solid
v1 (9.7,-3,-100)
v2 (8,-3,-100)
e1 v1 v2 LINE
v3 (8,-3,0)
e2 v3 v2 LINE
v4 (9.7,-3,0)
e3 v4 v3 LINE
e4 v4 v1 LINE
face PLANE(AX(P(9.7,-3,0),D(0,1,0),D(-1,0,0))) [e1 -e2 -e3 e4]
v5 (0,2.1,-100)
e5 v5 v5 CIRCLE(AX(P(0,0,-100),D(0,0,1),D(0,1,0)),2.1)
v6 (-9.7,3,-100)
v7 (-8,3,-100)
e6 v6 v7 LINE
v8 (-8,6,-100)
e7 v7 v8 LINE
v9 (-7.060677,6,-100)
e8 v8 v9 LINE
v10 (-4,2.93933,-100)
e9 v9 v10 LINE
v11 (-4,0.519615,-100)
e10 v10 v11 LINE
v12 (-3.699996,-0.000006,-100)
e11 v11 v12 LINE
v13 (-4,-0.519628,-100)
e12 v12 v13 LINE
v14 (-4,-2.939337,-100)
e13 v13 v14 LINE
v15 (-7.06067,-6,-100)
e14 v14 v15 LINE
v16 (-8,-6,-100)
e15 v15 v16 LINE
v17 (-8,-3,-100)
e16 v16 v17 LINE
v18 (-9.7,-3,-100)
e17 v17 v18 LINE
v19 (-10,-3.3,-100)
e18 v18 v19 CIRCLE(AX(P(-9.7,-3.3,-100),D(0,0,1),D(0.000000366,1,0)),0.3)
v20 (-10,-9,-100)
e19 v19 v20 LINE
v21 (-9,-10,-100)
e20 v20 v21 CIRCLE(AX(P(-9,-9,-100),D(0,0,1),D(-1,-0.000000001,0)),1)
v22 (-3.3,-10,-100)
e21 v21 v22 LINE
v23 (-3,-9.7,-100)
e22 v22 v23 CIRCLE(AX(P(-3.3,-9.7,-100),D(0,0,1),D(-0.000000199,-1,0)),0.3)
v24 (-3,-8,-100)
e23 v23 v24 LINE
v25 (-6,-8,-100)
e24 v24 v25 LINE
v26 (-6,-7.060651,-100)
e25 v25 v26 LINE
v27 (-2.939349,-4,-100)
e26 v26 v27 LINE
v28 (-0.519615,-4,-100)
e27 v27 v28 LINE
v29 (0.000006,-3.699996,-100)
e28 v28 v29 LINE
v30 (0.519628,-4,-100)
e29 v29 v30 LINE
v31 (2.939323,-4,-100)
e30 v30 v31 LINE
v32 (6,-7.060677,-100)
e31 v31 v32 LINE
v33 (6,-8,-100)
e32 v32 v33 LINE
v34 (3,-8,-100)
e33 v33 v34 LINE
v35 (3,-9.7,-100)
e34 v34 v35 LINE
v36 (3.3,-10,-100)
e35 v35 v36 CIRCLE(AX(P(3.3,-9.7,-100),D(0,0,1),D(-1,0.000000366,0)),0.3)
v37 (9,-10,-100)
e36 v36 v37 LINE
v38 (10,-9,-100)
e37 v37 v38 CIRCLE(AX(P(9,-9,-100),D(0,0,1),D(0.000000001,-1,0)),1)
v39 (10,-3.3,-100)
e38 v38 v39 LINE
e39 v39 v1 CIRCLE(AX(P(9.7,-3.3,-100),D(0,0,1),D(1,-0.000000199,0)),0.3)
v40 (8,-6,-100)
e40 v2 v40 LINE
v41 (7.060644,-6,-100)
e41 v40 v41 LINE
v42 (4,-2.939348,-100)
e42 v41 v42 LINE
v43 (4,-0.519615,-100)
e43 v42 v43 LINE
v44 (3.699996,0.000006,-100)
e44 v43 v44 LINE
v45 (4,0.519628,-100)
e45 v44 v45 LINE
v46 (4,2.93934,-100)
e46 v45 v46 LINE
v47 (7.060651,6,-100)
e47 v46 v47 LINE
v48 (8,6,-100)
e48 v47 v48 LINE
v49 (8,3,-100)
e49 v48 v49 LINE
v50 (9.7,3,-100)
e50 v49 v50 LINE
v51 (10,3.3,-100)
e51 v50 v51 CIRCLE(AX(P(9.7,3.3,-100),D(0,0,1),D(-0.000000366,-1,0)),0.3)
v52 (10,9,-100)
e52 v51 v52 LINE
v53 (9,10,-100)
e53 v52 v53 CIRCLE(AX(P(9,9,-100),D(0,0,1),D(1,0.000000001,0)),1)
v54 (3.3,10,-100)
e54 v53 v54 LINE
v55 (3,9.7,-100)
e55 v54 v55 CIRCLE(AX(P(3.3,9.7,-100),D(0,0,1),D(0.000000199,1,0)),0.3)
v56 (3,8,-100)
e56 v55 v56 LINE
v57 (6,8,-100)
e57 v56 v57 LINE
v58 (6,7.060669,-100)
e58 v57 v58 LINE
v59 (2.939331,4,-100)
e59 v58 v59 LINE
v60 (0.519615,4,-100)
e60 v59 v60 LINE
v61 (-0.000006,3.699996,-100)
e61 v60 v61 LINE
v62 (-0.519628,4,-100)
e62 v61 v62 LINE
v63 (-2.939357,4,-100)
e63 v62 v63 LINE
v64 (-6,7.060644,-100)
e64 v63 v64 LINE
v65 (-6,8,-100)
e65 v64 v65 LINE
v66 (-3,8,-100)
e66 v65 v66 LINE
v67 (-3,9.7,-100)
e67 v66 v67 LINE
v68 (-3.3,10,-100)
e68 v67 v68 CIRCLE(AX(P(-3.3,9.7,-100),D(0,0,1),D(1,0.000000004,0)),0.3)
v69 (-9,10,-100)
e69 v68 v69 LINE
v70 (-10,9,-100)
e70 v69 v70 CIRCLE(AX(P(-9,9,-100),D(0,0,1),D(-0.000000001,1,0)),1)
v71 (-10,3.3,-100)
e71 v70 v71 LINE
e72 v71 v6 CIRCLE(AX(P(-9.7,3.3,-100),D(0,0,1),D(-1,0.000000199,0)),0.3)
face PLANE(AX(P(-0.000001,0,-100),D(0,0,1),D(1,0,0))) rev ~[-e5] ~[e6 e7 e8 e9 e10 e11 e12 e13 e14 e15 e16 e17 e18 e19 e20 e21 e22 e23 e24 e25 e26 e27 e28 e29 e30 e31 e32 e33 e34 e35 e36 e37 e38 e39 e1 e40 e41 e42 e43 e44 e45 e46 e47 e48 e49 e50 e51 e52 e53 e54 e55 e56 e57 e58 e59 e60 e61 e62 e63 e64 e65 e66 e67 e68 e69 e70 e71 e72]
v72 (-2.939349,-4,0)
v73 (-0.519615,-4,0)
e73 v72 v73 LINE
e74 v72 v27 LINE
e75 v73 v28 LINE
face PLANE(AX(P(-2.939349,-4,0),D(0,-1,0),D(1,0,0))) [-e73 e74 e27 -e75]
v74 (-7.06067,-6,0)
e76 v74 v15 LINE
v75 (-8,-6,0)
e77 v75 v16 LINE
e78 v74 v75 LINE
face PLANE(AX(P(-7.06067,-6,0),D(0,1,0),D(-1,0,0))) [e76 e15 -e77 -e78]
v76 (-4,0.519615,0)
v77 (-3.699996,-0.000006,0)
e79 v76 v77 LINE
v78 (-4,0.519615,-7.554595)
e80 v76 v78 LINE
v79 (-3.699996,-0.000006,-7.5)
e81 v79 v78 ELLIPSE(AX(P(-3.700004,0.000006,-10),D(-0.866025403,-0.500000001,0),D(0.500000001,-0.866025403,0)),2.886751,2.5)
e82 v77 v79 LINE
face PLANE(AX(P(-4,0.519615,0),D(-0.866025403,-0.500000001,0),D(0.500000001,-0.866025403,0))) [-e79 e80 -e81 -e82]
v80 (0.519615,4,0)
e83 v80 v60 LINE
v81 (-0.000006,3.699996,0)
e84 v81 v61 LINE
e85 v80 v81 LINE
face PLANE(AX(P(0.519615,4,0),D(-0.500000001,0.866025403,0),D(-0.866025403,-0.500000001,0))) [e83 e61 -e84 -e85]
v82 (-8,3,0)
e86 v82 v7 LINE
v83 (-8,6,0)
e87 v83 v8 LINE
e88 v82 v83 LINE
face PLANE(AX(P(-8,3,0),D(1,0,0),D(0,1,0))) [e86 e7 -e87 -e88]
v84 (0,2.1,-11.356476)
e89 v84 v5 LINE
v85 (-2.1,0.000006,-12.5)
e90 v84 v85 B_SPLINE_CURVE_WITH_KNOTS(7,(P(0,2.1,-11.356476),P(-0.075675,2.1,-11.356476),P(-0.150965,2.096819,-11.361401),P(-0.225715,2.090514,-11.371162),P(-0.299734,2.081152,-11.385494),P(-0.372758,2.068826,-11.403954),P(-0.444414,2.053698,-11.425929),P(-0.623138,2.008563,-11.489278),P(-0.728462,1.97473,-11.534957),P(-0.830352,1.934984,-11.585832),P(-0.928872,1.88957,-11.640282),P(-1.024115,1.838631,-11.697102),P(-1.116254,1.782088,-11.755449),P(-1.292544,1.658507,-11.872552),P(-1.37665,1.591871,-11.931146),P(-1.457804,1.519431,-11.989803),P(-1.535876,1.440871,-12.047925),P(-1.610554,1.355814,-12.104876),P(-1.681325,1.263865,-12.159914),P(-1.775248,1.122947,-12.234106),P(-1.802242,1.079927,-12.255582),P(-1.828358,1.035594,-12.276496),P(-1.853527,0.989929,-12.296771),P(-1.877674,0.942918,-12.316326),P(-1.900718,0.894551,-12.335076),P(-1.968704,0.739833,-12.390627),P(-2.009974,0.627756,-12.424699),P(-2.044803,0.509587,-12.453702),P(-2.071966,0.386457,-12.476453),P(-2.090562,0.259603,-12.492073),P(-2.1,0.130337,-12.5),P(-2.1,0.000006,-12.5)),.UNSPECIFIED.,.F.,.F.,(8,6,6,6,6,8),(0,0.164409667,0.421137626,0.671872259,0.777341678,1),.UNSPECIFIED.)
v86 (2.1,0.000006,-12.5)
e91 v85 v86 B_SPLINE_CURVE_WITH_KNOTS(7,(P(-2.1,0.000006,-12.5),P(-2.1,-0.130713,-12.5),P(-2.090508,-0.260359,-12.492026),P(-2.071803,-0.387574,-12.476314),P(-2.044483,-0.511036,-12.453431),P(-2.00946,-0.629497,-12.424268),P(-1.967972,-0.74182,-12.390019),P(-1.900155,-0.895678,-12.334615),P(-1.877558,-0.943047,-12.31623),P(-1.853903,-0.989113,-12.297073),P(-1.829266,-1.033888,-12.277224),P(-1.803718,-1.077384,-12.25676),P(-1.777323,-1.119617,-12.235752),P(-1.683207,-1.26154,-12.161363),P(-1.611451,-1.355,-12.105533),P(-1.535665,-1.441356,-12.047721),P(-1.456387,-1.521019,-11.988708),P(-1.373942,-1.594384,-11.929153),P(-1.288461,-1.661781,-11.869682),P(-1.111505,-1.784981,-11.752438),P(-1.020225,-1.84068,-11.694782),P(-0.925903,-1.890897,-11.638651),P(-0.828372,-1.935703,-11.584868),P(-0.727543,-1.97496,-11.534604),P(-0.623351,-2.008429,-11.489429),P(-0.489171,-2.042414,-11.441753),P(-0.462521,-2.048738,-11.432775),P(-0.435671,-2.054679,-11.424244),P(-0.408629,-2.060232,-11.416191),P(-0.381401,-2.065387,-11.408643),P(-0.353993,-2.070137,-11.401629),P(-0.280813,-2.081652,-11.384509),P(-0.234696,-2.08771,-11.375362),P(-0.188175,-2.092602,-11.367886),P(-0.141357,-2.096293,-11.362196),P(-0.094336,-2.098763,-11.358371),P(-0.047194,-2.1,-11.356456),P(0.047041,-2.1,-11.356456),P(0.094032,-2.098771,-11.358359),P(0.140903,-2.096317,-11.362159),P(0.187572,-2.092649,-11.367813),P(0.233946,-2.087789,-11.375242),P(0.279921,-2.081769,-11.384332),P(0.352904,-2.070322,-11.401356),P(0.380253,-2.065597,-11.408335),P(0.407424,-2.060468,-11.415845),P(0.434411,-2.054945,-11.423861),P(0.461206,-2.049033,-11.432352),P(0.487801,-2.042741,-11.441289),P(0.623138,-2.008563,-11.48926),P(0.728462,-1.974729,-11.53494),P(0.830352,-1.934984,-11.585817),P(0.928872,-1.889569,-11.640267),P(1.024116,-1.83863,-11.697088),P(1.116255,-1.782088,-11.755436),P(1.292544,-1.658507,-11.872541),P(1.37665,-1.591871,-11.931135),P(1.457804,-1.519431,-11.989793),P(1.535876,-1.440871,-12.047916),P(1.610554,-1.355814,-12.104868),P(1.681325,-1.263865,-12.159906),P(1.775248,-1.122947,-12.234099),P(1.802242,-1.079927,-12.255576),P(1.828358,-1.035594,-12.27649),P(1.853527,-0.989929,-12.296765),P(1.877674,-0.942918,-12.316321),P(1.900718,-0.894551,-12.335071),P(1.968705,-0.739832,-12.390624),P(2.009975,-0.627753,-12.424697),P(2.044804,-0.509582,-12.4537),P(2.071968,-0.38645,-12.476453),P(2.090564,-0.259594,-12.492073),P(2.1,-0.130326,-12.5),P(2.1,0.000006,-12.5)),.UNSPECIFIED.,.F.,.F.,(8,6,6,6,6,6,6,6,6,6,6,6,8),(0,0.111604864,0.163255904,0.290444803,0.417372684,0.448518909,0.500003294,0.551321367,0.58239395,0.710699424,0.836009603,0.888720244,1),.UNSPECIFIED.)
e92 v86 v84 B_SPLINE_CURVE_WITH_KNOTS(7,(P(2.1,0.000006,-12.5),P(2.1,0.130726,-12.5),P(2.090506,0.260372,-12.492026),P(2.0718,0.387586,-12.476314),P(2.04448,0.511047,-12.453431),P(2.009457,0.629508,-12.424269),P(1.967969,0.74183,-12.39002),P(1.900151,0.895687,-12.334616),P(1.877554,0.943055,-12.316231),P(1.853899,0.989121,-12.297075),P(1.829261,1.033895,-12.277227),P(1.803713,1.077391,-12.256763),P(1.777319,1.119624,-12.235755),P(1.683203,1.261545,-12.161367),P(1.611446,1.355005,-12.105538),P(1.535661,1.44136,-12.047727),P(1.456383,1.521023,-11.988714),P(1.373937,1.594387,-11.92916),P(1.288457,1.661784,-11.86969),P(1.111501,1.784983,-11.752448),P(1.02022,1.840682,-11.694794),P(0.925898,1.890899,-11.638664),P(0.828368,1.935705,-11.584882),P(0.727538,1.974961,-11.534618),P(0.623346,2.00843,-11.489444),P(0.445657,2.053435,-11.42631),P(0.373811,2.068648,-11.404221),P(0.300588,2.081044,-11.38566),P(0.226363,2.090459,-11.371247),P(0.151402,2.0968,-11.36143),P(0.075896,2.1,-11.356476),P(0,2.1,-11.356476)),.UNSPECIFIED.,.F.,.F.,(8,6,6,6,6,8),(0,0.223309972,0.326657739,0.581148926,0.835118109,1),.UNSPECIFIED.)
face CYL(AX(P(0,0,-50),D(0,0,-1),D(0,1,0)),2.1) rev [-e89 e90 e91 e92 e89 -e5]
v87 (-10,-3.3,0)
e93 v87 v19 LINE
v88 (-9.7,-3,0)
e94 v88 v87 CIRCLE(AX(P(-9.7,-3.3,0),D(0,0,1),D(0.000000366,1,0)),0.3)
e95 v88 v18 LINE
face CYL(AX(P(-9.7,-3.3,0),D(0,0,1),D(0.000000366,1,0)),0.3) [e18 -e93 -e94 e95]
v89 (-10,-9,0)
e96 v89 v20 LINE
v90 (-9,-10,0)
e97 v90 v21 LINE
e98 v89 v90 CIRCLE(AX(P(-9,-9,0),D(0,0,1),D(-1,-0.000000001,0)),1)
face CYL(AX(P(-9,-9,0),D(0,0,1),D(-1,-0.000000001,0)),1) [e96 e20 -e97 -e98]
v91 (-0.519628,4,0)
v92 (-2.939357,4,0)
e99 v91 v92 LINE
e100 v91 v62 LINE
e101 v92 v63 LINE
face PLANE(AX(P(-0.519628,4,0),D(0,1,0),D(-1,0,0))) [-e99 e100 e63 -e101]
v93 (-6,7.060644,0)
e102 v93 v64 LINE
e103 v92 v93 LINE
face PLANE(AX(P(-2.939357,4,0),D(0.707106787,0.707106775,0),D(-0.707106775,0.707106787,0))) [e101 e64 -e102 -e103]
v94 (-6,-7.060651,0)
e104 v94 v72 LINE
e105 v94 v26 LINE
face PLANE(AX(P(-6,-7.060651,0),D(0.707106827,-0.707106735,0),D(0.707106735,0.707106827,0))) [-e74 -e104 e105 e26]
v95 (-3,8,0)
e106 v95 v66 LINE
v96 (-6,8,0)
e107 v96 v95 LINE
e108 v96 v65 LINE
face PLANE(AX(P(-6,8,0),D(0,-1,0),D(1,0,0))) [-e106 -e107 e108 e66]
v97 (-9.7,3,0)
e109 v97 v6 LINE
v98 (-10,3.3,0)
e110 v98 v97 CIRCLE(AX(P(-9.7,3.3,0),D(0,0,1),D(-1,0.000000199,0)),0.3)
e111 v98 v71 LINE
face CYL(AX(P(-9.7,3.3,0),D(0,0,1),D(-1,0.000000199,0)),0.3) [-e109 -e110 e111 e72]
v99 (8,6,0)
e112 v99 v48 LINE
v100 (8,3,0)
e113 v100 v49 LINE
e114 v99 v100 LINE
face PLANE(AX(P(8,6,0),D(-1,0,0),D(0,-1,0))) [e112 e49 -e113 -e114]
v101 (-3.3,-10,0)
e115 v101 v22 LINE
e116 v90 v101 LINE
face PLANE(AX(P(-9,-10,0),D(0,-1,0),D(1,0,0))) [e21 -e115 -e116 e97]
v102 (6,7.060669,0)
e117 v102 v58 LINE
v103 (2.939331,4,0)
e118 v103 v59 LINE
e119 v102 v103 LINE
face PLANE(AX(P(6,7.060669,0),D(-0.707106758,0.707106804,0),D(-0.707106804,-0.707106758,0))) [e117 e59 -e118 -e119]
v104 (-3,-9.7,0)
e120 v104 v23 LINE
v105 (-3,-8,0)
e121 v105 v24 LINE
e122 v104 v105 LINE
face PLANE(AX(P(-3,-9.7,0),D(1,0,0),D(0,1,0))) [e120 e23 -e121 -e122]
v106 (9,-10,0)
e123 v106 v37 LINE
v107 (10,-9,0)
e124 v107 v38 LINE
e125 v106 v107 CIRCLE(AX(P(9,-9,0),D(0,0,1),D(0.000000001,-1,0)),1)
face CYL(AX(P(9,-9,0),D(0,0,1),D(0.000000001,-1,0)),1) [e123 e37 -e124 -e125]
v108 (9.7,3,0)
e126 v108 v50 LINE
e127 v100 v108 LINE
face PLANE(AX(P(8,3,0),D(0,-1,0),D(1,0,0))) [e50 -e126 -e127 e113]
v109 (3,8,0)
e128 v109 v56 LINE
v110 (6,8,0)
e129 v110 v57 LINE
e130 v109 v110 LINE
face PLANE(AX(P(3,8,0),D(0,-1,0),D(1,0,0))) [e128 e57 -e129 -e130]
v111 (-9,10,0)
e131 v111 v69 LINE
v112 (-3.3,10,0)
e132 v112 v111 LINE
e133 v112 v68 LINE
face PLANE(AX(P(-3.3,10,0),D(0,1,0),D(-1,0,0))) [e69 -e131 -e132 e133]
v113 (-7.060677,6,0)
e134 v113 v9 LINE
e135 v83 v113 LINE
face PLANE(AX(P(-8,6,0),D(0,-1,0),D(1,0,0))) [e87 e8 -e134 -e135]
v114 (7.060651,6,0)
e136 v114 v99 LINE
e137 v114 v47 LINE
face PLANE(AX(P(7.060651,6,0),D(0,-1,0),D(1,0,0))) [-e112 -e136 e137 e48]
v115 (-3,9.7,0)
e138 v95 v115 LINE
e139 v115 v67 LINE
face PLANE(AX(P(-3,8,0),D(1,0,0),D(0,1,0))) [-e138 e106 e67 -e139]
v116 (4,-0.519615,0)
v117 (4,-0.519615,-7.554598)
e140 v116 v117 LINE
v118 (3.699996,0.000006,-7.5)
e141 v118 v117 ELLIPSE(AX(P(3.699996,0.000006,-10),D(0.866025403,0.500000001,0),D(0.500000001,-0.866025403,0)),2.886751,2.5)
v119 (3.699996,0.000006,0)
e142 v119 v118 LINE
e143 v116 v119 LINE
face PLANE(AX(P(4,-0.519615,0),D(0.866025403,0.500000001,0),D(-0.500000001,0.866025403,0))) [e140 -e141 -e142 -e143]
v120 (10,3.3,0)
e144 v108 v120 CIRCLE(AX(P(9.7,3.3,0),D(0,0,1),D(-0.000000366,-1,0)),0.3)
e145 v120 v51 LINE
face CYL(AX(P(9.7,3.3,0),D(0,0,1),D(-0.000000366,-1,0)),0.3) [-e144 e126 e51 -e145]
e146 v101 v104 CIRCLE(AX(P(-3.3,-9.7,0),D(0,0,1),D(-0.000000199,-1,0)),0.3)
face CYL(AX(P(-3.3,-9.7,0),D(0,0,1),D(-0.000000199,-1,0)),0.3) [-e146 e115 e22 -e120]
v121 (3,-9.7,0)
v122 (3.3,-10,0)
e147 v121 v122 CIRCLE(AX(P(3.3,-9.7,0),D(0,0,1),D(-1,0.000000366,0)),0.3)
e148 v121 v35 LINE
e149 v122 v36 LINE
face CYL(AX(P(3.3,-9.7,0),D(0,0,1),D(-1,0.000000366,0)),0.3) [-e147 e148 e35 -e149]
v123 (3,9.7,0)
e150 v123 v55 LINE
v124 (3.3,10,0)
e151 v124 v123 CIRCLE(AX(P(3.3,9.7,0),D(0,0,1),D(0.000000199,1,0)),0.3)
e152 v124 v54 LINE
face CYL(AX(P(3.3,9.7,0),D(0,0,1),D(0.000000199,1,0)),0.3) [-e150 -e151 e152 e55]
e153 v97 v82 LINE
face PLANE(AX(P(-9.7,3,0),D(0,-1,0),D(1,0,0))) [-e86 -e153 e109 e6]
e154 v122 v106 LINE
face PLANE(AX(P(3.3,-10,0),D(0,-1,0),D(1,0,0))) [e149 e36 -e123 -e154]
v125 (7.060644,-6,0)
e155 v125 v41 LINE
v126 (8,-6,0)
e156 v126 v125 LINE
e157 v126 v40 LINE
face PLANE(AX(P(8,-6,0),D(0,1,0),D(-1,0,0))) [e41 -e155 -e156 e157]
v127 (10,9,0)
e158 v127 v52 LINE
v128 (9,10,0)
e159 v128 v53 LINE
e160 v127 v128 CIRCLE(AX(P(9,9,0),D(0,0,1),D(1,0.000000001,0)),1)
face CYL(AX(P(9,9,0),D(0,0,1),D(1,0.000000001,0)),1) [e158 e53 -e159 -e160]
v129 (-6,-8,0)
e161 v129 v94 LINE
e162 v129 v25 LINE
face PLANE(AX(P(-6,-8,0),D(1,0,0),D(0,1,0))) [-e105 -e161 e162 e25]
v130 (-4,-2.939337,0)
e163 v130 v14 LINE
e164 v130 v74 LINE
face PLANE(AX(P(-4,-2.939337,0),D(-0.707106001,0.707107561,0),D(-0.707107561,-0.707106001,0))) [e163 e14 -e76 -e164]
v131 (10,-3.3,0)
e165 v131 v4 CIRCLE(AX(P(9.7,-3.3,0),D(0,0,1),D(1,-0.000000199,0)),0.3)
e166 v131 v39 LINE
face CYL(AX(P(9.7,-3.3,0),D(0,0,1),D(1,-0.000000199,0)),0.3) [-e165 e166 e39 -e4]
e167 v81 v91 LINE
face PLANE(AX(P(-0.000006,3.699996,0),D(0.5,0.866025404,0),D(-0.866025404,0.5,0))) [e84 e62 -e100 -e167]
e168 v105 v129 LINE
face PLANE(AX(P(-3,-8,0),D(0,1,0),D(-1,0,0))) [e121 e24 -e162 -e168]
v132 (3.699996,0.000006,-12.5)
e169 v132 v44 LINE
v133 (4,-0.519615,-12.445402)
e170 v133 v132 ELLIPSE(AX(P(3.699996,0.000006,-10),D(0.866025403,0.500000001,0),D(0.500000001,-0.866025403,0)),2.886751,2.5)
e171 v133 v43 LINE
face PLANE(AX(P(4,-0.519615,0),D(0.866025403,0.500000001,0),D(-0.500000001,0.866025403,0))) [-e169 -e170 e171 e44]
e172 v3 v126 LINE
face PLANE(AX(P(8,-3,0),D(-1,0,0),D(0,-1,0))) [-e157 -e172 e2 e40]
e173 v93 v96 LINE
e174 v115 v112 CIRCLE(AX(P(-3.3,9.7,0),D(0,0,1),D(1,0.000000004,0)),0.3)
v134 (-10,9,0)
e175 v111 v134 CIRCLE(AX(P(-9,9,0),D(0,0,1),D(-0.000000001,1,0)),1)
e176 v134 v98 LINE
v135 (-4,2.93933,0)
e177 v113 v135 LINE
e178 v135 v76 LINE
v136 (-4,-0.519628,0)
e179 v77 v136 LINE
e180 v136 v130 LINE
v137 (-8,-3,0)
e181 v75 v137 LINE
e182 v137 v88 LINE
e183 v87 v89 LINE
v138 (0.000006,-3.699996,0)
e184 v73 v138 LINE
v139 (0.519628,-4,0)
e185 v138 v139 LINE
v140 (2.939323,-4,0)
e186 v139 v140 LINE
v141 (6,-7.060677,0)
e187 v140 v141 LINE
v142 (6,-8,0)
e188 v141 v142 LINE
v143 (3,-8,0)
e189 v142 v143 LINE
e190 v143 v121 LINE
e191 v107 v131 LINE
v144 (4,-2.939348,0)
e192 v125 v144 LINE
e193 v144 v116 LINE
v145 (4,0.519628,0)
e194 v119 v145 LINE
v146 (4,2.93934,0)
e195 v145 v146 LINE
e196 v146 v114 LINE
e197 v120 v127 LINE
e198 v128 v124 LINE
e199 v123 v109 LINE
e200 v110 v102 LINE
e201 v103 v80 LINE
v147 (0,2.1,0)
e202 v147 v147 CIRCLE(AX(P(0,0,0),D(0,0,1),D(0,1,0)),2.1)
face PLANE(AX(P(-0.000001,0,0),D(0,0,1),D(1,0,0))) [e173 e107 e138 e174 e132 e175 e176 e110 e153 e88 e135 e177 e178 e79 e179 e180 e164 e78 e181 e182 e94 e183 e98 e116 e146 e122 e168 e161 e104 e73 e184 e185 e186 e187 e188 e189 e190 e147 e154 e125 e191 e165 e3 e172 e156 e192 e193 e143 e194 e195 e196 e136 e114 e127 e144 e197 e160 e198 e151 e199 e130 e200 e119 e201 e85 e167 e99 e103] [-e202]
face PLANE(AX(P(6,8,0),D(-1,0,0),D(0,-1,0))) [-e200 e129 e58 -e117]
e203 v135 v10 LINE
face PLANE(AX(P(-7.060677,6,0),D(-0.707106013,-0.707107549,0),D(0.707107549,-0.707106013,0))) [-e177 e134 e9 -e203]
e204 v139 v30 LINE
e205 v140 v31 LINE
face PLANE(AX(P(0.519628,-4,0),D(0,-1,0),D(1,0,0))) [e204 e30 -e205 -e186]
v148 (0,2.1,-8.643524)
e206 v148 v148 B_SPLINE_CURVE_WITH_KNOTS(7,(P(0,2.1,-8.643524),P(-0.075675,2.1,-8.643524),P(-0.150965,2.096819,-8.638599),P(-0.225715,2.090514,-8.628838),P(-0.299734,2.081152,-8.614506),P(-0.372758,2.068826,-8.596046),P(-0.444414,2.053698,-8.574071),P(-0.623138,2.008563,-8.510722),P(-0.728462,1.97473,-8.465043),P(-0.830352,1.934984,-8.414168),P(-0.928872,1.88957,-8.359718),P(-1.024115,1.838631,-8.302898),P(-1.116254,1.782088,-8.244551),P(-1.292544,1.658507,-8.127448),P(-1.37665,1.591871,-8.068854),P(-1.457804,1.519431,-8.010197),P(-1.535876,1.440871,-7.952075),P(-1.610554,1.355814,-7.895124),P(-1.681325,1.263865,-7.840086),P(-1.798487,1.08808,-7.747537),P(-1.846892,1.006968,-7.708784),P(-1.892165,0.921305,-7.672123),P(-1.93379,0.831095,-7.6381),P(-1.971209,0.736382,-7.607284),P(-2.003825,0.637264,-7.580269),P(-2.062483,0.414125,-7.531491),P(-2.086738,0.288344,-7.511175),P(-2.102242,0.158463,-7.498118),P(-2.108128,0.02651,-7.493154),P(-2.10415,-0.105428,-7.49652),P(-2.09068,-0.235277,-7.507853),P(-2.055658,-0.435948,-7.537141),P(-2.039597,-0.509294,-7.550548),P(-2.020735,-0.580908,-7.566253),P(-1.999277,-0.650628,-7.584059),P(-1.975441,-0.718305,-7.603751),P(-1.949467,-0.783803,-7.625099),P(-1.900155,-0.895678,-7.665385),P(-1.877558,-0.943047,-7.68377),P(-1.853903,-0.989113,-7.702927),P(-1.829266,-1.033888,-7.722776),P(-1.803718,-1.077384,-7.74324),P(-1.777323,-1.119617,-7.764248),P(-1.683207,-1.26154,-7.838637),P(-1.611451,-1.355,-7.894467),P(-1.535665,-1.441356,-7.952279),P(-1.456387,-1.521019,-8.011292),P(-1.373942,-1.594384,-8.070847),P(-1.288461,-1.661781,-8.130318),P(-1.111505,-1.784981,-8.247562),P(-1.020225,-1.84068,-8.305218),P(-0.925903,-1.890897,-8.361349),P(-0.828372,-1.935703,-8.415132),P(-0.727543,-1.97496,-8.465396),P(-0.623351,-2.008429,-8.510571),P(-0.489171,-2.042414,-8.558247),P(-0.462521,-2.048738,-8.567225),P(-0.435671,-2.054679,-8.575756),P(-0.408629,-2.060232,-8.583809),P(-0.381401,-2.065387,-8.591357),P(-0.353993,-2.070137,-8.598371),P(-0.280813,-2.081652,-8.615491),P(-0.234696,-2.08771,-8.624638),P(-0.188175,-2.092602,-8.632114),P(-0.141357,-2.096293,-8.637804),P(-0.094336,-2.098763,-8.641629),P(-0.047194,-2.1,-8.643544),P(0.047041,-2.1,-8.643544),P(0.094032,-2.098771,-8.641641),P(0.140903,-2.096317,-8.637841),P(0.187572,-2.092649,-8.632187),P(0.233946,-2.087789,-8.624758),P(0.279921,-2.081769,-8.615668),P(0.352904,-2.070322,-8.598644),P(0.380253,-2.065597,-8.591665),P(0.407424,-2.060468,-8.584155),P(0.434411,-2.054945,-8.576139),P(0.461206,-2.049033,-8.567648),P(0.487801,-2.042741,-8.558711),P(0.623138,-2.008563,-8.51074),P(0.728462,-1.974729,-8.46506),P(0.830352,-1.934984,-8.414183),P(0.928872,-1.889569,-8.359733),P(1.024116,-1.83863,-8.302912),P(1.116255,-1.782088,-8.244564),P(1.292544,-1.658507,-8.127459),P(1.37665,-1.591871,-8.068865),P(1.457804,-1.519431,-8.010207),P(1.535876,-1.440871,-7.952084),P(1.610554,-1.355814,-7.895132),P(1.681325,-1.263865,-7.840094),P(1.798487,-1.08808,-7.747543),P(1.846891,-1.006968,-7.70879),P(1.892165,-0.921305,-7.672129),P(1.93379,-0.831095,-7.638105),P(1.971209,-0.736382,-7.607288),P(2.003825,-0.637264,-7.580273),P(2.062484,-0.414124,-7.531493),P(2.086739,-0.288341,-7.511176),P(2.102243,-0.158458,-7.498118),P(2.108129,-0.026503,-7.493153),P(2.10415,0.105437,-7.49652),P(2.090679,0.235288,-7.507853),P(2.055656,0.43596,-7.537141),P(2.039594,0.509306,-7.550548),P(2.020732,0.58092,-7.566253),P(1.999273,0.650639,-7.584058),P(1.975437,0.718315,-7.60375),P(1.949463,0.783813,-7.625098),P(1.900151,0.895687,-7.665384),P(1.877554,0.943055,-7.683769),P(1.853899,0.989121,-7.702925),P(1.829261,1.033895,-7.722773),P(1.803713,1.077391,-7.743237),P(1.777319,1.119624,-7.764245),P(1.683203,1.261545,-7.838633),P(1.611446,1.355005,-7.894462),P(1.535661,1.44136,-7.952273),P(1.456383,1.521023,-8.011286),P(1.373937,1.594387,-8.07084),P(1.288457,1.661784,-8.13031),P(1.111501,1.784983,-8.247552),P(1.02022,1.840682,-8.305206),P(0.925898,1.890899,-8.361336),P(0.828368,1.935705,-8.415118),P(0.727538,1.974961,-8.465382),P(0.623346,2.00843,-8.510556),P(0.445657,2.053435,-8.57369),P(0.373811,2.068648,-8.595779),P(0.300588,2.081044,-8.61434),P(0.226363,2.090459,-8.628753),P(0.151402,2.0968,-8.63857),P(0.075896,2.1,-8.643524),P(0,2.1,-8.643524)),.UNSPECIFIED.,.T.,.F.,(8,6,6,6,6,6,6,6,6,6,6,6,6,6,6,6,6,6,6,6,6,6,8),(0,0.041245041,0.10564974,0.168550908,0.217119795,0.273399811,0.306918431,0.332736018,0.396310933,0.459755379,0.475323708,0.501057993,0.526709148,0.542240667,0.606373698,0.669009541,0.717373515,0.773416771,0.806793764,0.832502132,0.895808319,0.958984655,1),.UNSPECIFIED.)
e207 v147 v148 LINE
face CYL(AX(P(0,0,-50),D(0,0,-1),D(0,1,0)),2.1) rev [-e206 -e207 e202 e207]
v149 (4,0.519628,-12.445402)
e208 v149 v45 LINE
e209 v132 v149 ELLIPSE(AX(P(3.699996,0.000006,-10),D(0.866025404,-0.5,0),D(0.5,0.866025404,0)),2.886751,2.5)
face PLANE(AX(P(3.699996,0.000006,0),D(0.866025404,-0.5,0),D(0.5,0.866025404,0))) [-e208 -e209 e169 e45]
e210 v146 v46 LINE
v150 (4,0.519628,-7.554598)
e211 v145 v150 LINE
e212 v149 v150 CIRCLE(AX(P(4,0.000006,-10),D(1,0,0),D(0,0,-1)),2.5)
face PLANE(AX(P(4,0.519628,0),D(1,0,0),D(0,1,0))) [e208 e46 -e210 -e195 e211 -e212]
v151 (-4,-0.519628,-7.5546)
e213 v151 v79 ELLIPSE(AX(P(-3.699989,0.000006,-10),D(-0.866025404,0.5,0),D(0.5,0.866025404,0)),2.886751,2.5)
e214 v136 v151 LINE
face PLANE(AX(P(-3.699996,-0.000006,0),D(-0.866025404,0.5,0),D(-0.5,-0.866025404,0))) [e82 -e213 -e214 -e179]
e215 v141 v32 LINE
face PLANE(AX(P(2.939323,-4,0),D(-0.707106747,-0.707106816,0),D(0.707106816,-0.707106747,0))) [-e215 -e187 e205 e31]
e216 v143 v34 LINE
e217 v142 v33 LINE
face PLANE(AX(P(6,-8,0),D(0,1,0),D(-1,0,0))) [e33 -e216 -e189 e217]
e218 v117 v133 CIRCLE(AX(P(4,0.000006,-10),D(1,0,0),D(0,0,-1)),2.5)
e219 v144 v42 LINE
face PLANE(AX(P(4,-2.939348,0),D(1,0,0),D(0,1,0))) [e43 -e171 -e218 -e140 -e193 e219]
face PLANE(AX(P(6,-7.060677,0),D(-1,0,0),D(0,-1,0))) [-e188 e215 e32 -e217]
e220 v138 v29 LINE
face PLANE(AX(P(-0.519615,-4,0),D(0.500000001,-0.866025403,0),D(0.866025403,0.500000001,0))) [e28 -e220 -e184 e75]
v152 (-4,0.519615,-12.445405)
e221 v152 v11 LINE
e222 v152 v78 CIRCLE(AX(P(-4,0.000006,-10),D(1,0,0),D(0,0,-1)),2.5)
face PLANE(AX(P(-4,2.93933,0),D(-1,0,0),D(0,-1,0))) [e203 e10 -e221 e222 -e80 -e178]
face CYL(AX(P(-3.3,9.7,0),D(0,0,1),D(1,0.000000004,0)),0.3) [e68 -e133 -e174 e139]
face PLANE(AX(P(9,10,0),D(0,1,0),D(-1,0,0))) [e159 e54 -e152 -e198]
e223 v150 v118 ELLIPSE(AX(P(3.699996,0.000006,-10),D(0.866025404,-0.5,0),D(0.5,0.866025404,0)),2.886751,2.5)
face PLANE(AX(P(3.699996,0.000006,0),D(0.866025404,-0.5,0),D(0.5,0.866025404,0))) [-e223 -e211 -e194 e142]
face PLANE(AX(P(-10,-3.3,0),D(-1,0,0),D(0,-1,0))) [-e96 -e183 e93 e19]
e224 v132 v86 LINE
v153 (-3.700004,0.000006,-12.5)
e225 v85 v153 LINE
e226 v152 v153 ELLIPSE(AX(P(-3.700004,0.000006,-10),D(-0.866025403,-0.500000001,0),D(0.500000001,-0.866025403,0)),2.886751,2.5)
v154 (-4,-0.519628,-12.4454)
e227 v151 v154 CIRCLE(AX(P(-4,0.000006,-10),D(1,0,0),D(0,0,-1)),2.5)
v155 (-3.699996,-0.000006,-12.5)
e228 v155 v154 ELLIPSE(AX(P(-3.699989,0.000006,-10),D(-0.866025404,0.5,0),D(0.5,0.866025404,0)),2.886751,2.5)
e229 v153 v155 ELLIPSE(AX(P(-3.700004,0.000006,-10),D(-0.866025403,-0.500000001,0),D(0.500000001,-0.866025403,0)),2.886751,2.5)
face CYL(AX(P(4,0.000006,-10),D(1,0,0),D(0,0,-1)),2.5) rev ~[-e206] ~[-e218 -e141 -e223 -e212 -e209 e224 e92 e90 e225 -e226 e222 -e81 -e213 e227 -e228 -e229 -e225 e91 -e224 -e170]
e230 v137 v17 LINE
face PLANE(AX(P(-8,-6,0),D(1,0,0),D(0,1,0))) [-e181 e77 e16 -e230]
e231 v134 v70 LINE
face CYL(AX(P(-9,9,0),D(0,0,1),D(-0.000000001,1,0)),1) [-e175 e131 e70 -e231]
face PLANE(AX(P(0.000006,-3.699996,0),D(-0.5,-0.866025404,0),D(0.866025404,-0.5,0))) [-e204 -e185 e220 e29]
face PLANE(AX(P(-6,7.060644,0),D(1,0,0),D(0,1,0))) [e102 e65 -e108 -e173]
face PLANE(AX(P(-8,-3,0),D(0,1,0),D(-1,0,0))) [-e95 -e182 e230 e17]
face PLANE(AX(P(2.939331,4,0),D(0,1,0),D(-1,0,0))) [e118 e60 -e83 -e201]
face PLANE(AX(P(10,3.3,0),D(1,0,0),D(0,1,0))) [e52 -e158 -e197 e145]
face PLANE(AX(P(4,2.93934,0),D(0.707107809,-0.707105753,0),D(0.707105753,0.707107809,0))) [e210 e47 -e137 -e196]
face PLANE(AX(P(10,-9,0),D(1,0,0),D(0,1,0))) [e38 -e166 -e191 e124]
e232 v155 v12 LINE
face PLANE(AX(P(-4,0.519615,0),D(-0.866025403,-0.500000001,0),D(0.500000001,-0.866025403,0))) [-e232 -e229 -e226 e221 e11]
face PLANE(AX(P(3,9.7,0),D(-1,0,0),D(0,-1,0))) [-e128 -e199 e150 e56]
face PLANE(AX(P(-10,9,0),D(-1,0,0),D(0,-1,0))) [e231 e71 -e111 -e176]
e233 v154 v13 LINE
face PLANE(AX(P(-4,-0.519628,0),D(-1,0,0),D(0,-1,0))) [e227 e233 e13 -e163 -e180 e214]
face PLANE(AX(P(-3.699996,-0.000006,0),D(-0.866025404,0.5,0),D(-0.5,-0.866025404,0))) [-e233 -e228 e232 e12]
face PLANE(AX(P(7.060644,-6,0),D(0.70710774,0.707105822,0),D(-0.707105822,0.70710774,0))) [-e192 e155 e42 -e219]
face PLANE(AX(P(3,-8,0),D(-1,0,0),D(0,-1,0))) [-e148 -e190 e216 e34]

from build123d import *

# Parameters (mm, degrees)
BOSS_EXTRUDE1_DEPTH = 100
SKETCH2_W           = 100
SKETCH2_H           = 2.1
SKETCH4_R           = 2.5
CUT_EXTRUDE1_DEPTH  = 8


with BuildPart() as part:
    # Sketch1 → Boss-Extrude1 (new body)
    with BuildSketch(Plane.XY):
        with BuildLine():
            Line((-10, 9), (-10, 3.29999995))
            ThreePointArc((-10, 3.29999995), (-9.912132049, 3.087867916), (-9.7, 3))
            Line((-9.7, 3), (-8, 3))
            Line((-8, 3), (-8, 6))
            Line((-8, 6), (-7.060677, 6))
            Line((-7.060677, 6), (-4, 2.93932965))
            Line((-4, 2.93932965), (-4, 0.519615242))
            Line((-4, 0.519615242), (-3.699996283, -6.437e-06))
            Line((-3.699996283, -6.437e-06), (-4, -0.519628117))
            Line((-4, -0.519628117), (-4, -2.93933725))
            Line((-4, -2.93933725), (-7.0606695, -6))
            Line((-7.0606695, -6), (-8, -6))
            Line((-8, -6), (-8, -3))
            Line((-8, -3), (-9.7, -3))
            ThreePointArc((-9.7, -3), (-9.912132049, -3.087867916), (-10, -3.29999995))
            Line((-10, -3.29999995), (-10, -9))
            ThreePointArc((-10, -9), (-9.707106781, -9.707106781), (-9, -10))
            Line((-9, -10), (-3.29999995, -10))
            ThreePointArc((-3.29999995, -10), (-3.087867916, -9.912132049), (-3, -9.7))
            Line((-3, -9.7), (-3, -8))
            Line((-3, -8), (-6, -8))
            Line((-6, -8), (-6, -7.0606515))
            Line((-6, -7.0606515), (-2.9393489, -4))
            Line((-2.9393489, -4), (-0.519615242, -4))
            Line((-0.519615242, -4), (6.437e-06, -3.699996283))
            Line((6.437e-06, -3.699996283), (0.519628117, -4))
            Line((0.519628117, -4), (2.9393227, -4))
            Line((2.9393227, -4), (6, -7.060677))
            Line((6, -7.060677), (6, -8))
            Line((6, -8), (3, -8))
            Line((3, -8), (3, -9.7))
            ThreePointArc((3, -9.7), (3.087867916, -9.912132049), (3.29999995, -10))
            Line((3.29999995, -10), (9, -10))
            ThreePointArc((9, -10), (9.707106781, -9.707106781), (10, -9))
            Line((10, -9), (10, -3.29999995))
            ThreePointArc((10, -3.29999995), (9.912132049, -3.087867916), (9.7, -3))
            Line((9.7, -3), (8, -3))
            Line((8, -3), (8, -6))
            Line((8, -6), (7.0606435, -6))
            Line((7.0606435, -6), (4, -2.9393482))
            Line((4, -2.9393482), (4, -0.519615242))
            Line((4, -0.519615242), (3.699996283, 6.437e-06))
            Line((3.699996283, 6.437e-06), (4, 0.519628117))
            Line((4, 0.519628117), (4, 2.9393401))
            Line((4, 2.9393401), (7.060651, 6))
            Line((7.060651, 6), (8, 6))
            Line((8, 6), (8, 3))
            Line((8, 3), (9.7, 3))
            ThreePointArc((9.7, 3), (9.912132049, 3.087867916), (10, 3.29999995))
            Line((10, 3.29999995), (10, 9))
            ThreePointArc((10, 9), (9.707106781, 9.707106781), (9, 10))
            Line((9, 10), (3.29999995, 10))
            ThreePointArc((3.29999995, 10), (3.087867916, 9.912132049), (3, 9.7))
            Line((3, 9.7), (3, 8))
            Line((3, 8), (6, 8))
            Line((6, 8), (6, 7.060669))
            Line((6, 7.060669), (2.9393308, 4))
            Line((2.9393308, 4), (0.519615242, 4))
            Line((0.519615242, 4), (-6.437e-06, 3.699996283))
            Line((-6.437e-06, 3.699996283), (-0.519628117, 4))
            Line((-0.519628117, 4), (-2.93935655, 4))
            Line((-2.93935655, 4), (-6, 7.0606435))
            Line((-6, 7.0606435), (-6, 8))
            Line((-6, 8), (-3, 8))
            Line((-3, 8), (-3, 9.7))
            ThreePointArc((-3, 9.7), (-3.087867966, 9.912132034), (-3.3, 10))
            Line((-3.3, 10), (-9, 10))
            ThreePointArc((-9, 10), (-9.707106781, 9.707106781), (-10, 9))
        make_face()
    extrude(amount=-BOSS_EXTRUDE1_DEPTH)

    # Sketch2 → Cut-Revolve1 (revolve, cut)
    with BuildSketch(Plane(origin=(0, 0, 0), x_dir=(0, 0, -1), z_dir=(1, 0, 0))):
        with Locations((50, 1.05)):
            Rectangle(SKETCH2_W, SKETCH2_H)
    revolve(axis=Axis((0, 0, -100), (0, 0, 1)), mode=Mode.SUBTRACT)

    # Sketch4 → Cut-Extrude1 (cut)
    with BuildSketch(Plane(origin=(4, 0, 0), x_dir=(0, 0, -1), z_dir=(1, 0, 0))):
        with Locations((10, 6.437e-06)):
            Circle(SKETCH4_R)
    extrude(amount=-CUT_EXTRUDE1_DEPTH, mode=Mode.SUBTRACT)


solid = part.part
